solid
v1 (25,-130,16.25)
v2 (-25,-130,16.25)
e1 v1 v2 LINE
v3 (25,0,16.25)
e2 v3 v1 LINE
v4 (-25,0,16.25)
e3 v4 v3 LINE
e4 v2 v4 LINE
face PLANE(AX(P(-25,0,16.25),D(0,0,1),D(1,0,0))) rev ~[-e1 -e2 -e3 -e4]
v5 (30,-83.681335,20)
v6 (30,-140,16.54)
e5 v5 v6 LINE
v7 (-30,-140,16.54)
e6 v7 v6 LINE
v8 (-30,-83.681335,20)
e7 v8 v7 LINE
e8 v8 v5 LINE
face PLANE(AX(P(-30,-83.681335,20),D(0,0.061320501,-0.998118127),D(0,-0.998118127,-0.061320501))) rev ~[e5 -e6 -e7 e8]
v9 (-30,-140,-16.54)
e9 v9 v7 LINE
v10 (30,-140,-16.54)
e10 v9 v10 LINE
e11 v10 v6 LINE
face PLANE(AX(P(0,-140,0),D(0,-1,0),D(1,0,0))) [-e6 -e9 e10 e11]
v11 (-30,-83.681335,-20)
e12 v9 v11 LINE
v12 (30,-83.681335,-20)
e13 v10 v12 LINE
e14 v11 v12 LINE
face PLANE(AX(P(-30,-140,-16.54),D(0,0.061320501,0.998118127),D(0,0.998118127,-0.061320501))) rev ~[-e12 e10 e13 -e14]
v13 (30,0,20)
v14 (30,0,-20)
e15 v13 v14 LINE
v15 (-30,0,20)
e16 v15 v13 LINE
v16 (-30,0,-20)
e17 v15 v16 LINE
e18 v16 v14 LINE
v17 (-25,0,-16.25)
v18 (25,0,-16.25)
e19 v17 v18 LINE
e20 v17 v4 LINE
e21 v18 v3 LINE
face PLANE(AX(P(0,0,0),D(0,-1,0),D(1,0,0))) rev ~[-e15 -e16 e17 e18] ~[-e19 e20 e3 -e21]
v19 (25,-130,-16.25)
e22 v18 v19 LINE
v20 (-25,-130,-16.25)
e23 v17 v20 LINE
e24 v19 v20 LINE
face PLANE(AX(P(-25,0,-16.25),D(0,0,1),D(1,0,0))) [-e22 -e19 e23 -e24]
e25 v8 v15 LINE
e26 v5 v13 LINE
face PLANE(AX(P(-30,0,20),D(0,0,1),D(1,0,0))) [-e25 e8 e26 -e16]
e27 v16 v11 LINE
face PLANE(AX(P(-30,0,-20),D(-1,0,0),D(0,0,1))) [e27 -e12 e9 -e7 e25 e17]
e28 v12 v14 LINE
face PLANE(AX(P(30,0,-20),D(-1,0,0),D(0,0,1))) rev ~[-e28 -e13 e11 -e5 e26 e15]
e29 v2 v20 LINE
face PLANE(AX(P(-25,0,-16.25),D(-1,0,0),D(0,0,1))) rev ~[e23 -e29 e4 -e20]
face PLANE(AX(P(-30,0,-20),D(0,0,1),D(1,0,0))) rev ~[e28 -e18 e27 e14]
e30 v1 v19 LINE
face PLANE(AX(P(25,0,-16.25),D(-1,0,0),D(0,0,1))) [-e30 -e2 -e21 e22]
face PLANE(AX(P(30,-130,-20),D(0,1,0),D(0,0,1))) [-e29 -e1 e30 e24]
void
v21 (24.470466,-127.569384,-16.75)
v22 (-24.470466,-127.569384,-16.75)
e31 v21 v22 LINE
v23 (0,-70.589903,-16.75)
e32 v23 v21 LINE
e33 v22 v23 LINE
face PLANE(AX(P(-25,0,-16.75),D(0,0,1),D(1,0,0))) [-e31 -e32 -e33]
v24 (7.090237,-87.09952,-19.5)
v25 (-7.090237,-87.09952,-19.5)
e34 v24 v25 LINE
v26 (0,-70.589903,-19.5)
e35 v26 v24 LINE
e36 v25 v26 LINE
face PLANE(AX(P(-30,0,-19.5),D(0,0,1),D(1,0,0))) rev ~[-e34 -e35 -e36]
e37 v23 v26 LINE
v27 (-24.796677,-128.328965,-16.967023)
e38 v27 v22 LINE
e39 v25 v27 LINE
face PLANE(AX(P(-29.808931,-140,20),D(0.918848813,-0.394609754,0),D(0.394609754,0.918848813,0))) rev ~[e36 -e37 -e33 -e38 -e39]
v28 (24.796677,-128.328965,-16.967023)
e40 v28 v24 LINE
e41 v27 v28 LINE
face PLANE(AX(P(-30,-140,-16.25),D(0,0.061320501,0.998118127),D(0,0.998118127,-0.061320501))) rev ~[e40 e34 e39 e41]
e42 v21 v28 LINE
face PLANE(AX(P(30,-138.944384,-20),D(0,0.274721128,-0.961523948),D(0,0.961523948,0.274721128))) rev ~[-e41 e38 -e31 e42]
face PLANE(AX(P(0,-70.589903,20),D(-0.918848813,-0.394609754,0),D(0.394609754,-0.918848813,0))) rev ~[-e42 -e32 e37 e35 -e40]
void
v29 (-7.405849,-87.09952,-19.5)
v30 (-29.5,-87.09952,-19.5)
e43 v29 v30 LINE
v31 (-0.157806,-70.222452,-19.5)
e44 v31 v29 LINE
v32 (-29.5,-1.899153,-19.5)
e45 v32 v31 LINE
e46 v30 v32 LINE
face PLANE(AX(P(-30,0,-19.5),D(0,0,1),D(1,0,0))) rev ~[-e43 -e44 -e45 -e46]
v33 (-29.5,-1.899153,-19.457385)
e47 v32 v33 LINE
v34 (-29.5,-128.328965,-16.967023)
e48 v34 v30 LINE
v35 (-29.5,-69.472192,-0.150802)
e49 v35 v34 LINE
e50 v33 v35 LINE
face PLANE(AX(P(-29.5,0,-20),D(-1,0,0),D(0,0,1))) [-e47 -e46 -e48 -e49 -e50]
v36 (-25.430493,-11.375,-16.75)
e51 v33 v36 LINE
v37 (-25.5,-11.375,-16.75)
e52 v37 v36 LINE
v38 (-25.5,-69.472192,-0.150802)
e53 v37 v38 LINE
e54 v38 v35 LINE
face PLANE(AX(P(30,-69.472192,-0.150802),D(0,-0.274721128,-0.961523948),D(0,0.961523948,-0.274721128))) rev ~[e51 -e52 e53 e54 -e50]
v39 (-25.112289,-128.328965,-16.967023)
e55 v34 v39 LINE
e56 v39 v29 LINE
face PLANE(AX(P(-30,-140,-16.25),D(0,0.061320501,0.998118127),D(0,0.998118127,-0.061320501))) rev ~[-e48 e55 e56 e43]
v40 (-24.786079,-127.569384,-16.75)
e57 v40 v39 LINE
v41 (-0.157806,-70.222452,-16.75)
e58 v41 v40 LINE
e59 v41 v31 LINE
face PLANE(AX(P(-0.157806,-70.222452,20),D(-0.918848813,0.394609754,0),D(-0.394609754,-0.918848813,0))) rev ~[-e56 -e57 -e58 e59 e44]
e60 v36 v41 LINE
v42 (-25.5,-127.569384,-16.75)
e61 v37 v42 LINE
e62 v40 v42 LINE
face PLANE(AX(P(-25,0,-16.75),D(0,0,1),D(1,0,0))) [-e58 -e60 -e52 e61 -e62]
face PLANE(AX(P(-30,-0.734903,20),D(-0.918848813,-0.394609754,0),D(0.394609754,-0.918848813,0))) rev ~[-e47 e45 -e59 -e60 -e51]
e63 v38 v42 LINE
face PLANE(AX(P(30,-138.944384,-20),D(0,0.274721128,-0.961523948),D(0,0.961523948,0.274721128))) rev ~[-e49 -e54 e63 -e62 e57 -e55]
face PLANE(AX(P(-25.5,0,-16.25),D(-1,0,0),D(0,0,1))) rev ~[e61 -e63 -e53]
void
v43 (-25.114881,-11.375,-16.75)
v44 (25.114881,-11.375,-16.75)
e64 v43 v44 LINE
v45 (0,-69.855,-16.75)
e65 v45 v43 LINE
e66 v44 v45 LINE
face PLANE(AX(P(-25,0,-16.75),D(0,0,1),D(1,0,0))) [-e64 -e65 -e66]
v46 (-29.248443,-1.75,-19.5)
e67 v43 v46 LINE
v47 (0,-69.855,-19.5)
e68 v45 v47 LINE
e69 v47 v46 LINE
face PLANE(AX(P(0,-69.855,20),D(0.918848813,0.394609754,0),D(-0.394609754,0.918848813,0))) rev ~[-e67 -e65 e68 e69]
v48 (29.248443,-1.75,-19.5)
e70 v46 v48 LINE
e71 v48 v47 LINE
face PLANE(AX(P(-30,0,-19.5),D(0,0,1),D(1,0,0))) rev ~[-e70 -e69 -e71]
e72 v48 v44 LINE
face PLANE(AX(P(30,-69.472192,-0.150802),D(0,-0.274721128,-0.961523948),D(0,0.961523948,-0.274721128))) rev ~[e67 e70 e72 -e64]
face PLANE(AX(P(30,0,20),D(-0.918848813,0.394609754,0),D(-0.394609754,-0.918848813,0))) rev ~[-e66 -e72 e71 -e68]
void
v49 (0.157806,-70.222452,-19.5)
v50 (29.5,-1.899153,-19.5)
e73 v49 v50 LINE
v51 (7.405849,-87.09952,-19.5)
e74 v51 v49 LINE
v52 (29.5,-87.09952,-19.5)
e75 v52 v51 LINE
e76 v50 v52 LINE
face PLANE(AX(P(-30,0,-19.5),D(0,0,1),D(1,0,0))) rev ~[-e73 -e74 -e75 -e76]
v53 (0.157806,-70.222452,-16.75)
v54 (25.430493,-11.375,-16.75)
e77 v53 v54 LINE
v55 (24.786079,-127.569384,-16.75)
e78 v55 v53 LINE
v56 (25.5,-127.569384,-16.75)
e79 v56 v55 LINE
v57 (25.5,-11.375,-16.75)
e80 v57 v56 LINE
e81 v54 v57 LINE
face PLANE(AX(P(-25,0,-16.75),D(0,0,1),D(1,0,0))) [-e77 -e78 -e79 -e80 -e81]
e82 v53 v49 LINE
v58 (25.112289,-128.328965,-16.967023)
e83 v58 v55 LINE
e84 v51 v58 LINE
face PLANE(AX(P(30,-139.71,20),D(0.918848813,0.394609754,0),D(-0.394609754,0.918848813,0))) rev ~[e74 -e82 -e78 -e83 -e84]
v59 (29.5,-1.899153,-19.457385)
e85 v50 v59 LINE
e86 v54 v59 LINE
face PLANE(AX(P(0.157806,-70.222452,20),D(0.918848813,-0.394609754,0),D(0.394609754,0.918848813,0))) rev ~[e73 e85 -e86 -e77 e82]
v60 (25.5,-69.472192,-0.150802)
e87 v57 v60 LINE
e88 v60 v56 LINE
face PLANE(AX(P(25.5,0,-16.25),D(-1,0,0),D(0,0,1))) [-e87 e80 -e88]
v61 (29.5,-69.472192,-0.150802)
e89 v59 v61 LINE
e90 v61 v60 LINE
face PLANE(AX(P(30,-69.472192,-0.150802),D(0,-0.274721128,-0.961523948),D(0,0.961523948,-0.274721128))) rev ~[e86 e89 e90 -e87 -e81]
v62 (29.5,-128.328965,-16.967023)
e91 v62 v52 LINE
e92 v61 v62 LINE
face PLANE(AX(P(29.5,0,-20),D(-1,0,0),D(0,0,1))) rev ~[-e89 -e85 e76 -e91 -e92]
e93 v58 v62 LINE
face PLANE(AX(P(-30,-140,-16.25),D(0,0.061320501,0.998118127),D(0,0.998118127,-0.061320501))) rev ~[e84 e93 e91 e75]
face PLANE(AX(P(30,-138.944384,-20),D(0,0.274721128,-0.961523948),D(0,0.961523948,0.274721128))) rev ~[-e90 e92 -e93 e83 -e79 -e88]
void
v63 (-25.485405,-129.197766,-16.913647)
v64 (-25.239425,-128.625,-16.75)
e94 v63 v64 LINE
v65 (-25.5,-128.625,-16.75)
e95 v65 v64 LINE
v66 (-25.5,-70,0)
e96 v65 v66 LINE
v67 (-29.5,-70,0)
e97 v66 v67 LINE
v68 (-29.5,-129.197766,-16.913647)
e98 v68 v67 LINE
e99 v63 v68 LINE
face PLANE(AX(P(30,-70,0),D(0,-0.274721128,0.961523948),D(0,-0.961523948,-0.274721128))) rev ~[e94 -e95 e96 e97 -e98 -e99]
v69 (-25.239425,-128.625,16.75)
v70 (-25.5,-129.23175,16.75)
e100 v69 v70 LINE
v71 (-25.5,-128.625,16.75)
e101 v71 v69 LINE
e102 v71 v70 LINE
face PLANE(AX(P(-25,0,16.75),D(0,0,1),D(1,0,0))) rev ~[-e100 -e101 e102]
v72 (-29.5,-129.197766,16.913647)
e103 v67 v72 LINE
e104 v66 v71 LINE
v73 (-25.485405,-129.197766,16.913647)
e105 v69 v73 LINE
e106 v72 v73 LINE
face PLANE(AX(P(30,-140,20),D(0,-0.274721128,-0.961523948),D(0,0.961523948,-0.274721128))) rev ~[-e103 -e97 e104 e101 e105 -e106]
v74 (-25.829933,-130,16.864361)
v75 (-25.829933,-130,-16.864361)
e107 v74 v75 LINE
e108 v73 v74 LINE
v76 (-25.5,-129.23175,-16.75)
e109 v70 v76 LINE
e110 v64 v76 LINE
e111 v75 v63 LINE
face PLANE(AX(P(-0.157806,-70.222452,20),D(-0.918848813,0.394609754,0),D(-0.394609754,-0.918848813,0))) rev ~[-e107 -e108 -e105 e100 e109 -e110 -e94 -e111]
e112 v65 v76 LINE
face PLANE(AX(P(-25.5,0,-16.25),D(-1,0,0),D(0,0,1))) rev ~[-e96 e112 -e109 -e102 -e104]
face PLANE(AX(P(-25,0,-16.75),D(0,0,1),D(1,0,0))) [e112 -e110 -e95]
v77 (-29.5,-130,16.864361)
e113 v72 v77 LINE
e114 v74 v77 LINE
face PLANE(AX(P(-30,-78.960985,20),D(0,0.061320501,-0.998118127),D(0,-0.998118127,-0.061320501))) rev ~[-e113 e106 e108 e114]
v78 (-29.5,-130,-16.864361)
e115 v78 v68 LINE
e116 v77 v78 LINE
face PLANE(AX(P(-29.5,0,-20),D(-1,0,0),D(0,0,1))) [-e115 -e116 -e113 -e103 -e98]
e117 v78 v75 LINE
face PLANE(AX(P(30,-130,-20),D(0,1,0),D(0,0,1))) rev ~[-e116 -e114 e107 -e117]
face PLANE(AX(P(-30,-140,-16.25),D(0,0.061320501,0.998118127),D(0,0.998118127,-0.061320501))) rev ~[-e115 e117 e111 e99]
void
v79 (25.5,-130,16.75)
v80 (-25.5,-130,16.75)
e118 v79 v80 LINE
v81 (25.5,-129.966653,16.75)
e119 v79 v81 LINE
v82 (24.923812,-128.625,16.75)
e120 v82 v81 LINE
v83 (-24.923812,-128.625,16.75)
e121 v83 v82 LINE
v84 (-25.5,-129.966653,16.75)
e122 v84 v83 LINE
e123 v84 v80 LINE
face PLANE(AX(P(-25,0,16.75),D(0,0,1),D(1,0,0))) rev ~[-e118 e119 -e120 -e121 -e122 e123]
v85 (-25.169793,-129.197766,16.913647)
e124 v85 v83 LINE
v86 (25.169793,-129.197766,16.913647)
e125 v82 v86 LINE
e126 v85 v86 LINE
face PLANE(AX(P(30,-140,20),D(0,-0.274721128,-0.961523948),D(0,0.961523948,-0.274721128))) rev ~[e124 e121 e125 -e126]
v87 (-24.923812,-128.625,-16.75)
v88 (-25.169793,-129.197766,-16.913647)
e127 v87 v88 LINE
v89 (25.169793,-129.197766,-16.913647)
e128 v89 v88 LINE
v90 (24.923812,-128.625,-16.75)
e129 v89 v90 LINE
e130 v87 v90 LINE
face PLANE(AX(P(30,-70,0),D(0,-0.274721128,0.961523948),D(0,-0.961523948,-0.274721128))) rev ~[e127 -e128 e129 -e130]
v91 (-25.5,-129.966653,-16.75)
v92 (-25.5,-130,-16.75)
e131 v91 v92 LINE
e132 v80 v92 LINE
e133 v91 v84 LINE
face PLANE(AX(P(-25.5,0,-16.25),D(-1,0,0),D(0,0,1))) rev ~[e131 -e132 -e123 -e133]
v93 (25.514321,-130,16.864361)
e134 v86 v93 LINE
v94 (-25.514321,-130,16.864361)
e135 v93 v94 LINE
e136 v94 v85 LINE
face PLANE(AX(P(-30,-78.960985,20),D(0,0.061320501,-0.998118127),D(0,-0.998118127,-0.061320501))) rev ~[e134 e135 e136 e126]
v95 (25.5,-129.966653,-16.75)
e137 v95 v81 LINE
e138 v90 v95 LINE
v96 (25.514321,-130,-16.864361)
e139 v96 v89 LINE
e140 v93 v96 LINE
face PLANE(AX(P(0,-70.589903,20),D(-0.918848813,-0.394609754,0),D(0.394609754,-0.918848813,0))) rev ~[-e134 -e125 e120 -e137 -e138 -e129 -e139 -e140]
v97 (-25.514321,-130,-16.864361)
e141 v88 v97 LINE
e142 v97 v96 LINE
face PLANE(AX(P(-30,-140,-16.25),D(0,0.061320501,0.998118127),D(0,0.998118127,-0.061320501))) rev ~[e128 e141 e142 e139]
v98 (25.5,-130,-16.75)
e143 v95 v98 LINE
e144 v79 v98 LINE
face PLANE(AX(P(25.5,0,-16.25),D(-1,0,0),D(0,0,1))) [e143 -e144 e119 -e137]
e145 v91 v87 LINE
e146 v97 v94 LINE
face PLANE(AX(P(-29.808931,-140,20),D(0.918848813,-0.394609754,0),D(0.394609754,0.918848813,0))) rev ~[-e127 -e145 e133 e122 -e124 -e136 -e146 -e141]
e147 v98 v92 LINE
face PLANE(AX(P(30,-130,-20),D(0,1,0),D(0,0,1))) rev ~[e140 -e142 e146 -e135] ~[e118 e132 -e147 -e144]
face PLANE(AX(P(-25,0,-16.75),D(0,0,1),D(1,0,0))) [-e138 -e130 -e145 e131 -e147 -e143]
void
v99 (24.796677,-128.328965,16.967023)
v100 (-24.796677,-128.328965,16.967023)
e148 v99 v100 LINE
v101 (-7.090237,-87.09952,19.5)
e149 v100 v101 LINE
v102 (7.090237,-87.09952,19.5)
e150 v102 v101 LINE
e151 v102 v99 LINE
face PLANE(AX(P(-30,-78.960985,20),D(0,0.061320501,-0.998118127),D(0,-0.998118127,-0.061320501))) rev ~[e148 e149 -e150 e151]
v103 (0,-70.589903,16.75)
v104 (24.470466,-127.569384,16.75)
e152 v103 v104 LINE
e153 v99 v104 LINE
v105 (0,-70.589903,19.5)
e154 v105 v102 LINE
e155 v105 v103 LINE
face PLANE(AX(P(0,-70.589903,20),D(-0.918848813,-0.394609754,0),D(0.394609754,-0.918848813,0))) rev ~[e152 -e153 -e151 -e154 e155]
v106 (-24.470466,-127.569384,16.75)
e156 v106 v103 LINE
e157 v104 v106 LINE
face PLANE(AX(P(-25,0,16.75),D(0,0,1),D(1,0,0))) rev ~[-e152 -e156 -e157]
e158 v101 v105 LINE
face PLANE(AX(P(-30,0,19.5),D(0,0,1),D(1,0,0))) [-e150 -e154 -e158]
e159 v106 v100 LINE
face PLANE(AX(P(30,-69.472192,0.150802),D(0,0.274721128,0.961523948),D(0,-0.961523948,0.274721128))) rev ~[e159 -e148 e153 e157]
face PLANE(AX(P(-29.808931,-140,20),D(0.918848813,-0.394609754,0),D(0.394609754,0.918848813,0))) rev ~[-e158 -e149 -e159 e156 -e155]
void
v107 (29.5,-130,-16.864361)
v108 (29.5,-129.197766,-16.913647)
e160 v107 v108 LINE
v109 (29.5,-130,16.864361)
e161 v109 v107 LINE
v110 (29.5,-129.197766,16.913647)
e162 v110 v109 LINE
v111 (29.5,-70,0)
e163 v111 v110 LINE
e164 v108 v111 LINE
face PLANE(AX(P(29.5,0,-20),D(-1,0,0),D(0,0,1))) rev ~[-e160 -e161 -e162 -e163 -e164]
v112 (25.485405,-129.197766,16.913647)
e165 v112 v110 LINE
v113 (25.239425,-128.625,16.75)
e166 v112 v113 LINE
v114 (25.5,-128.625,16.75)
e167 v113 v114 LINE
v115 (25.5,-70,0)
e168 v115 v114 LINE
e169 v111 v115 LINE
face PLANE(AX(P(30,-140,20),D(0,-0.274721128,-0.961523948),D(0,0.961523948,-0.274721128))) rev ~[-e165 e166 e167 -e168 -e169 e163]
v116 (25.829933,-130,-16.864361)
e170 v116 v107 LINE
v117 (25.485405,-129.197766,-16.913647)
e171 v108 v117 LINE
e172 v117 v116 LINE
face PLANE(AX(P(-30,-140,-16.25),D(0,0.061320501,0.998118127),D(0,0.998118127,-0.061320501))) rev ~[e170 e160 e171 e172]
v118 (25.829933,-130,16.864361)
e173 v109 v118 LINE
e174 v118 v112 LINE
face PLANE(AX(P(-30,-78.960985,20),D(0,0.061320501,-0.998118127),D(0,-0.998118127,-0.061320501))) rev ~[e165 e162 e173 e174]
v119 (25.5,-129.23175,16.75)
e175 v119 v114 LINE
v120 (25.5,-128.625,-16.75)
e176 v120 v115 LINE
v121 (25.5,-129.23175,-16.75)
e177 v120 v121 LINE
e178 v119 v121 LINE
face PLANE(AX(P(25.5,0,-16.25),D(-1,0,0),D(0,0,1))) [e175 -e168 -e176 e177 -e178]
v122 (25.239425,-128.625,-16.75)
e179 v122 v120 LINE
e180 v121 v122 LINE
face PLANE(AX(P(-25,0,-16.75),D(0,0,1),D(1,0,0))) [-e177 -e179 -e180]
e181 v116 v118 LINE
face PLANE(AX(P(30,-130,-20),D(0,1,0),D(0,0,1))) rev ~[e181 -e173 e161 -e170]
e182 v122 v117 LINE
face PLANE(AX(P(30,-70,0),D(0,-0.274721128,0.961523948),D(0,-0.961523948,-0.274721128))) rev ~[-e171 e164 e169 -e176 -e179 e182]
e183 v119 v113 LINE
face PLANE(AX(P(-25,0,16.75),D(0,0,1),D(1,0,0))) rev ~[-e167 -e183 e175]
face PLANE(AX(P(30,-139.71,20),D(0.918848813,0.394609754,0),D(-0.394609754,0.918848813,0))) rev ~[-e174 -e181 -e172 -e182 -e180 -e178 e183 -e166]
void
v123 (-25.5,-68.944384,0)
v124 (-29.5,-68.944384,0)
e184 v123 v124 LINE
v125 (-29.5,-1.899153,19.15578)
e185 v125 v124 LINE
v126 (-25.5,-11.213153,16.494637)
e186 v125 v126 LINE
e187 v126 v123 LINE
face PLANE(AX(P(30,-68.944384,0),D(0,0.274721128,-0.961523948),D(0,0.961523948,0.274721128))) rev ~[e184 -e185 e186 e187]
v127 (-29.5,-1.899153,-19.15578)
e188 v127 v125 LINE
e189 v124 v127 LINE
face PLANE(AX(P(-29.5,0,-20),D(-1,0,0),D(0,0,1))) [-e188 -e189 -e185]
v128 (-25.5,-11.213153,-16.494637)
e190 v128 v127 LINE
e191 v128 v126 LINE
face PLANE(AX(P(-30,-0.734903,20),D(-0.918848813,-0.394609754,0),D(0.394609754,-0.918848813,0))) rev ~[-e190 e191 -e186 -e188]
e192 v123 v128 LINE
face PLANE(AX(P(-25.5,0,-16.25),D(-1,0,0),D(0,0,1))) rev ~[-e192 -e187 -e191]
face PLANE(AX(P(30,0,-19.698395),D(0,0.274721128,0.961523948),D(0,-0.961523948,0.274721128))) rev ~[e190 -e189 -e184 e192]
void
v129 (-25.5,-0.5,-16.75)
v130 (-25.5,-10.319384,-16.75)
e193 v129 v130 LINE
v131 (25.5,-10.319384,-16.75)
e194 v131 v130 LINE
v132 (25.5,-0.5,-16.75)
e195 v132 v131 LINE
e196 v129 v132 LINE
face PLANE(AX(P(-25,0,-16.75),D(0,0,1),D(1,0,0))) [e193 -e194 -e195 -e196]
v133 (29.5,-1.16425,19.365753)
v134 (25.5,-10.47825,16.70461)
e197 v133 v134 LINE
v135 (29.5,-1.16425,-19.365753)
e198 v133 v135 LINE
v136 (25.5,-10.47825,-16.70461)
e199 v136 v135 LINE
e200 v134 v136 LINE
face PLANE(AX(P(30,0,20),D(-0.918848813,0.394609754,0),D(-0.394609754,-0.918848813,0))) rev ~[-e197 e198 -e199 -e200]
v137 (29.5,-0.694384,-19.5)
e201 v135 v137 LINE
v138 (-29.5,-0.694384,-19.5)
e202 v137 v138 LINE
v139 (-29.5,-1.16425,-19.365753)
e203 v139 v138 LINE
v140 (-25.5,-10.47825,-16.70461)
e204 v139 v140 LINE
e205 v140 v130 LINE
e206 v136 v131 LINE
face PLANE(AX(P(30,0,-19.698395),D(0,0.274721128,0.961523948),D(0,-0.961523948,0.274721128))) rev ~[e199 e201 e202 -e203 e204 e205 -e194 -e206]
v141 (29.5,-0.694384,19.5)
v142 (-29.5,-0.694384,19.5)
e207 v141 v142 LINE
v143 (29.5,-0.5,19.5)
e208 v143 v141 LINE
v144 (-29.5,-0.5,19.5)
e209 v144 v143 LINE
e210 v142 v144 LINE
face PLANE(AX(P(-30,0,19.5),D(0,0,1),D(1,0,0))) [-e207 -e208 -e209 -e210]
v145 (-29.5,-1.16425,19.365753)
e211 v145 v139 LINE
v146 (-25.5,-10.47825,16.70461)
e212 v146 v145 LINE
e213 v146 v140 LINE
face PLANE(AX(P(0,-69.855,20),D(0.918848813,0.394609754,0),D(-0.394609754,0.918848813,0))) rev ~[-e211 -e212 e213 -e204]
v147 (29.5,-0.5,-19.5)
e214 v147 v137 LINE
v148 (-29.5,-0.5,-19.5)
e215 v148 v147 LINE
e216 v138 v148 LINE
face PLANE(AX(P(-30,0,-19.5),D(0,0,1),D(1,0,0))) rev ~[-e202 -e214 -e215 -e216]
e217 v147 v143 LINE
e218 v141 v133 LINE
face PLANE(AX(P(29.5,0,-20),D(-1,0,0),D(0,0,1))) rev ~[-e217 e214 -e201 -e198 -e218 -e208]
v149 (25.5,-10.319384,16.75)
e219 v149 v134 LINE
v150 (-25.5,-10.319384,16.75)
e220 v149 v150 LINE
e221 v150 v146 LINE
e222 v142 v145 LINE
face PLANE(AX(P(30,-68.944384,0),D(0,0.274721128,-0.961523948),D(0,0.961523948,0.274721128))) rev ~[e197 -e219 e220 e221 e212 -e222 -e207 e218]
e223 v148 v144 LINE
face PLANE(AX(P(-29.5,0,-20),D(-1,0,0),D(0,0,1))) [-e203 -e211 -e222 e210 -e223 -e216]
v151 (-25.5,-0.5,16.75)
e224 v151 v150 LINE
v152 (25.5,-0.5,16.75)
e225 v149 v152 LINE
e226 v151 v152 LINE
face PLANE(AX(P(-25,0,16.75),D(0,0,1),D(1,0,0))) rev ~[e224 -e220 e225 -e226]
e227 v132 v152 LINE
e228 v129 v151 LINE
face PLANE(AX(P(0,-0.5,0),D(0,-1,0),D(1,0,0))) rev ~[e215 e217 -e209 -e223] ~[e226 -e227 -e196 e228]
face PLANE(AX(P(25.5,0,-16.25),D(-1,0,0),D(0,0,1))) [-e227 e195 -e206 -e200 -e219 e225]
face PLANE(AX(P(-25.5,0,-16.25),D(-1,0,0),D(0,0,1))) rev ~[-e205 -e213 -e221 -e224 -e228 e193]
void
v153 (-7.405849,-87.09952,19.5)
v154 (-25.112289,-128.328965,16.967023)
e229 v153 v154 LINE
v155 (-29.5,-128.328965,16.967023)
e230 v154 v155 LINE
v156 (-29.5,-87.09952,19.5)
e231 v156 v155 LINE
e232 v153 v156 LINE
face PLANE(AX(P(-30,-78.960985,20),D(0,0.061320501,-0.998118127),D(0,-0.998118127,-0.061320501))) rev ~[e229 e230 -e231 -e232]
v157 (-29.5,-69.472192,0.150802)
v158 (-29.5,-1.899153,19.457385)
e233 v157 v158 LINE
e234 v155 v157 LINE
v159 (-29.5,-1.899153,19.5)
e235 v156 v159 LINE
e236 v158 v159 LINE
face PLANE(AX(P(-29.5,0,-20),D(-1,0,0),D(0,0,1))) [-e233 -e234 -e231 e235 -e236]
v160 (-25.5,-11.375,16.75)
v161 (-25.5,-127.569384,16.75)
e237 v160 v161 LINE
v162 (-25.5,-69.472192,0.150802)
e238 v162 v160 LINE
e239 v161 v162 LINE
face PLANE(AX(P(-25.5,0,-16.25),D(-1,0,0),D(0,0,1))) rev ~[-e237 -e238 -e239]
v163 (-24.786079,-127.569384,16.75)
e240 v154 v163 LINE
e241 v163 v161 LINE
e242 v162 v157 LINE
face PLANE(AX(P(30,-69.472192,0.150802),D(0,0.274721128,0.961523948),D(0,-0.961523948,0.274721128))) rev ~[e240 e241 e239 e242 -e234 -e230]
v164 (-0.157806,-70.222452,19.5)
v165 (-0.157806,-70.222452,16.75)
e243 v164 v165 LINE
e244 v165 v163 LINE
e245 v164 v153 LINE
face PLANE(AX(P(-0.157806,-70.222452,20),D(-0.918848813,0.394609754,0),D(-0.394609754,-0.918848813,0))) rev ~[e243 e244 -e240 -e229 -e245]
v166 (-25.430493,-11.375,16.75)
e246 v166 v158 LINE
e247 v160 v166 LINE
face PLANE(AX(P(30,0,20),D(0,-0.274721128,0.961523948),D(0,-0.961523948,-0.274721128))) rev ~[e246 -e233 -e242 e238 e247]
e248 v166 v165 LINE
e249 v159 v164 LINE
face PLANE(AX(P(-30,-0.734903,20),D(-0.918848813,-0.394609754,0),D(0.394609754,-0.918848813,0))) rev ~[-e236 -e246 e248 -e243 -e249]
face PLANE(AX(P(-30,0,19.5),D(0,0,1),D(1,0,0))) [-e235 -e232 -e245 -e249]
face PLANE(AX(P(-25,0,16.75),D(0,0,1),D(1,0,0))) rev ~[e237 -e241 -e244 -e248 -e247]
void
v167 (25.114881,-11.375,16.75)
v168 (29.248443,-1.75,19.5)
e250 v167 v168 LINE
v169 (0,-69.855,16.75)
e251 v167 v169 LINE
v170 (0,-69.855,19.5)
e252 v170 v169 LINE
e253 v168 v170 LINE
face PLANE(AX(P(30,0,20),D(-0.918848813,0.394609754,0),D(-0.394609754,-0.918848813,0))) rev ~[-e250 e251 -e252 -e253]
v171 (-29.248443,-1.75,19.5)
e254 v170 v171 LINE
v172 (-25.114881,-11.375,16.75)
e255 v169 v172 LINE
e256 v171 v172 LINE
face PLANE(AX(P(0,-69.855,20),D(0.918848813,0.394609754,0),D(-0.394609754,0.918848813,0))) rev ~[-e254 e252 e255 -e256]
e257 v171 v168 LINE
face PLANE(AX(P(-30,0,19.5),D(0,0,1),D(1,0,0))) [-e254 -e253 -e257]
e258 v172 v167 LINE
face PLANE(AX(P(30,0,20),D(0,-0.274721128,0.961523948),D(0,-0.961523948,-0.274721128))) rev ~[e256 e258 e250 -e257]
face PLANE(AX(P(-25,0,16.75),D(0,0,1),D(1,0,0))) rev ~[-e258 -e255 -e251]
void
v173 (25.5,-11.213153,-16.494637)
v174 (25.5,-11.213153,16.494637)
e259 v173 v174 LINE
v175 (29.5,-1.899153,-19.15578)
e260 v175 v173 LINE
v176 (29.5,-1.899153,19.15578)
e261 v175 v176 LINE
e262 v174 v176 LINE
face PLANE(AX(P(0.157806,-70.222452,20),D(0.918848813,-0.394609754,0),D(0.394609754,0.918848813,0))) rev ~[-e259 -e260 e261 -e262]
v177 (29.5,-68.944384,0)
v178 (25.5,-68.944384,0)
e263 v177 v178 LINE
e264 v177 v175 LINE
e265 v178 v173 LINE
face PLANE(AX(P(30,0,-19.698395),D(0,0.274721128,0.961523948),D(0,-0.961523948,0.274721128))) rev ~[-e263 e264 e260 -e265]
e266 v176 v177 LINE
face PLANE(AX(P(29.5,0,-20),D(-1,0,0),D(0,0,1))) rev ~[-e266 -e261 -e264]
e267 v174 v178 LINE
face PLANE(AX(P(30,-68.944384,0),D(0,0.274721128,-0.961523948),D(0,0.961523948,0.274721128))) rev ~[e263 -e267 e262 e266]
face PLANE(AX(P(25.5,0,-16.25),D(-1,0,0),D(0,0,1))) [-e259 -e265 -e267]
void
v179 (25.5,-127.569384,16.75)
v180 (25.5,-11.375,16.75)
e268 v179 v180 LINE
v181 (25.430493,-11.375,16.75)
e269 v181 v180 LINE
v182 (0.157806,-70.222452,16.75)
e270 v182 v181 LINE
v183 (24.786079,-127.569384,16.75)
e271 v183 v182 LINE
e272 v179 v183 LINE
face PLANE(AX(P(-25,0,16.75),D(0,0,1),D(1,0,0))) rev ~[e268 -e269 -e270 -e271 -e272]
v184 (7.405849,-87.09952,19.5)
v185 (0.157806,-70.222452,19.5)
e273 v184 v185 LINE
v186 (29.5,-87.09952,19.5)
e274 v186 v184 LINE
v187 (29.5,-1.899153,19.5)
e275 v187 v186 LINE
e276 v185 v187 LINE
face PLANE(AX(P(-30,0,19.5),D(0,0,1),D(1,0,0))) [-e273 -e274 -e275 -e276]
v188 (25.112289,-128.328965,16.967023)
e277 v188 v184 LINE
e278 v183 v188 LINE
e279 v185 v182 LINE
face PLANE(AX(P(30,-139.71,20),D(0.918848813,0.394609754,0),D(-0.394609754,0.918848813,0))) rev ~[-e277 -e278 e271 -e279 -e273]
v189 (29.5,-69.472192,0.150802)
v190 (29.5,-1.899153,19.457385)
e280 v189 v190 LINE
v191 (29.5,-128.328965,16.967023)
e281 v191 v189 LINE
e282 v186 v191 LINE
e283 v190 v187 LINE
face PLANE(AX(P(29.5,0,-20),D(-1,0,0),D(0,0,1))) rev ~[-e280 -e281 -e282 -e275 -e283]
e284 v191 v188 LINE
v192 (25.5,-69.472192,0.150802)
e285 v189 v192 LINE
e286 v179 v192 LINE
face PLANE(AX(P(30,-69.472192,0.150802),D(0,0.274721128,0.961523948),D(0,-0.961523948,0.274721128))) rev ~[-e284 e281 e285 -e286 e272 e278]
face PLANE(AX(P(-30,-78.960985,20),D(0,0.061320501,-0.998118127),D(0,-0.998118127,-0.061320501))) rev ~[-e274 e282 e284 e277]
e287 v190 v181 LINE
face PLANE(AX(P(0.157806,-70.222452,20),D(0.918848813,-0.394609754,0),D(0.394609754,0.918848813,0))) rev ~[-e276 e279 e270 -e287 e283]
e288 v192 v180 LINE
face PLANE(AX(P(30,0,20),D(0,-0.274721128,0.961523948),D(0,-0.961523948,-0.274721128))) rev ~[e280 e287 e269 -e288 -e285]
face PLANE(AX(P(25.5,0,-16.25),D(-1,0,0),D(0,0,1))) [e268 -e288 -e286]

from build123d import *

# Parameters (mm, degrees)
F0_W      = 60
F0_H      = 40
F0_W_2    = 50
F0_H_2    = 32.5
F1_DEPTH  = 140
F2_T      = -0.5
F4_DEPTH  = 40
F6_DEPTH  = 60
F7_DEPTH  = 140
F8_W      = 10
F8_H      = 40
F9_DEPTH  = 60
F11_DEPTH = 60
F12_DEPTH = 60


with BuildPart() as f1:
    # F0 (on Front) → F1 (new body)
    with BuildSketch(Plane.XZ):
        Rectangle(F0_W, F0_H)
        Rectangle(F0_W_2, F0_H_2, mode=Mode.SUBTRACT)
    extrude(amount=F1_DEPTH)

    # F2 (hollow: no face is removed)
    offset(amount=F2_T, kind=Kind.INTERSECTION, mode=Mode.SUBTRACT)

    # F3 (on face) → F4 (join, through all)
    with BuildSketch(Plane.XY.offset(20)):
        Polygon((-29.8089313839, -140), (0, -70.5899032727), (-0.1578061569, -70.2224516363), (-30, -139.71), (-30, -140), align=None)
        Polygon((30, -139.71), (0.1578061569, -70.2224516363), (0, -70.5899032727), (29.8089313839, -140), (30, -140), align=None)
        Polygon((-0.1578061569, -70.2224516363), (0, -69.855), (-30, 0), (-30, -0.3179561596), (-30, -0.7349032727), align=None)
        Polygon((0, -70.5899032727), (0.1578061569, -70.2224516363), (0, -69.855), (-0.1578061569, -70.2224516363), align=None)
        Polygon((0.1578061569, -70.2224516363), (30, -0.7349032727), (30, 0), (0, -69.855), align=None)
    extrude(amount=-F4_DEPTH)

    # F5 (on face) → F6 (join, through all)
    with BuildSketch(Plane.YZ.offset(30)):
        Polygon((-69.472192033, 0.1508022763), (-70, 0), (-69.472192033, -0.1508022763), (-68.9443840661, 0), align=None)
        Polygon((0, 20), (-69.472192033, 0.1508022763), (-68.9443840661, 0), (0, 19.6983954474), align=None)
        Polygon((-68.9443840661, 0), (-69.472192033, -0.1508022763), (0, -20), (0, -19.6983954474), align=None)
        Polygon((-140, 20), (-70, 0), (-69.472192033, 0.1508022763), (-138.9443840661, 20), align=None)
        Polygon((-70, 0), (-140, -20), (-138.9443840661, -20), (-69.472192033, -0.1508022763), align=None)
    extrude(amount=-F6_DEPTH)

    # F0 (on Front) → F7 (cut)
    with BuildSketch(Plane.XZ):
        Rectangle(F0_W_2, F0_H_2)
    extrude(amount=F7_DEPTH, mode=Mode.SUBTRACT)

    # F8 (on face) → F9 (join, through all)
    with BuildSketch(Plane.YZ.offset(30)):
        with Locations((-135, 0)):
            Rectangle(F8_W, F8_H)
    extrude(amount=-F9_DEPTH)

    # F10 (on face) → F11 (cut, through all)
    with BuildSketch(Plane(origin=(-30, 0, 0), x_dir=(0, -1, 0), z_dir=(-1, 0, 0))):
        Polygon((83.6813354429, -20), (140, -20), (140, -16.54), align=None)
        Polygon((83.6813354429, 20), (140, 16.54), (140, 20), align=None)
    extrude(amount=-F11_DEPTH, mode=Mode.SUBTRACT)

    # F10 (on face) → F12 (join, through all)
    with BuildSketch(Plane(origin=(-30, 0, 0), x_dir=(0, -1, 0), z_dir=(-1, 0, 0))):
        Polygon((78.9609849453, 20), (140, 16.25), (140, 16.54), (83.6813354429, 20), align=None)
        Polygon((83.6813354429, -20), (140, -16.54), (140, -16.25), (78.9609849453, -20), align=None)
    extrude(amount=-F12_DEPTH)


solid = f1.part
